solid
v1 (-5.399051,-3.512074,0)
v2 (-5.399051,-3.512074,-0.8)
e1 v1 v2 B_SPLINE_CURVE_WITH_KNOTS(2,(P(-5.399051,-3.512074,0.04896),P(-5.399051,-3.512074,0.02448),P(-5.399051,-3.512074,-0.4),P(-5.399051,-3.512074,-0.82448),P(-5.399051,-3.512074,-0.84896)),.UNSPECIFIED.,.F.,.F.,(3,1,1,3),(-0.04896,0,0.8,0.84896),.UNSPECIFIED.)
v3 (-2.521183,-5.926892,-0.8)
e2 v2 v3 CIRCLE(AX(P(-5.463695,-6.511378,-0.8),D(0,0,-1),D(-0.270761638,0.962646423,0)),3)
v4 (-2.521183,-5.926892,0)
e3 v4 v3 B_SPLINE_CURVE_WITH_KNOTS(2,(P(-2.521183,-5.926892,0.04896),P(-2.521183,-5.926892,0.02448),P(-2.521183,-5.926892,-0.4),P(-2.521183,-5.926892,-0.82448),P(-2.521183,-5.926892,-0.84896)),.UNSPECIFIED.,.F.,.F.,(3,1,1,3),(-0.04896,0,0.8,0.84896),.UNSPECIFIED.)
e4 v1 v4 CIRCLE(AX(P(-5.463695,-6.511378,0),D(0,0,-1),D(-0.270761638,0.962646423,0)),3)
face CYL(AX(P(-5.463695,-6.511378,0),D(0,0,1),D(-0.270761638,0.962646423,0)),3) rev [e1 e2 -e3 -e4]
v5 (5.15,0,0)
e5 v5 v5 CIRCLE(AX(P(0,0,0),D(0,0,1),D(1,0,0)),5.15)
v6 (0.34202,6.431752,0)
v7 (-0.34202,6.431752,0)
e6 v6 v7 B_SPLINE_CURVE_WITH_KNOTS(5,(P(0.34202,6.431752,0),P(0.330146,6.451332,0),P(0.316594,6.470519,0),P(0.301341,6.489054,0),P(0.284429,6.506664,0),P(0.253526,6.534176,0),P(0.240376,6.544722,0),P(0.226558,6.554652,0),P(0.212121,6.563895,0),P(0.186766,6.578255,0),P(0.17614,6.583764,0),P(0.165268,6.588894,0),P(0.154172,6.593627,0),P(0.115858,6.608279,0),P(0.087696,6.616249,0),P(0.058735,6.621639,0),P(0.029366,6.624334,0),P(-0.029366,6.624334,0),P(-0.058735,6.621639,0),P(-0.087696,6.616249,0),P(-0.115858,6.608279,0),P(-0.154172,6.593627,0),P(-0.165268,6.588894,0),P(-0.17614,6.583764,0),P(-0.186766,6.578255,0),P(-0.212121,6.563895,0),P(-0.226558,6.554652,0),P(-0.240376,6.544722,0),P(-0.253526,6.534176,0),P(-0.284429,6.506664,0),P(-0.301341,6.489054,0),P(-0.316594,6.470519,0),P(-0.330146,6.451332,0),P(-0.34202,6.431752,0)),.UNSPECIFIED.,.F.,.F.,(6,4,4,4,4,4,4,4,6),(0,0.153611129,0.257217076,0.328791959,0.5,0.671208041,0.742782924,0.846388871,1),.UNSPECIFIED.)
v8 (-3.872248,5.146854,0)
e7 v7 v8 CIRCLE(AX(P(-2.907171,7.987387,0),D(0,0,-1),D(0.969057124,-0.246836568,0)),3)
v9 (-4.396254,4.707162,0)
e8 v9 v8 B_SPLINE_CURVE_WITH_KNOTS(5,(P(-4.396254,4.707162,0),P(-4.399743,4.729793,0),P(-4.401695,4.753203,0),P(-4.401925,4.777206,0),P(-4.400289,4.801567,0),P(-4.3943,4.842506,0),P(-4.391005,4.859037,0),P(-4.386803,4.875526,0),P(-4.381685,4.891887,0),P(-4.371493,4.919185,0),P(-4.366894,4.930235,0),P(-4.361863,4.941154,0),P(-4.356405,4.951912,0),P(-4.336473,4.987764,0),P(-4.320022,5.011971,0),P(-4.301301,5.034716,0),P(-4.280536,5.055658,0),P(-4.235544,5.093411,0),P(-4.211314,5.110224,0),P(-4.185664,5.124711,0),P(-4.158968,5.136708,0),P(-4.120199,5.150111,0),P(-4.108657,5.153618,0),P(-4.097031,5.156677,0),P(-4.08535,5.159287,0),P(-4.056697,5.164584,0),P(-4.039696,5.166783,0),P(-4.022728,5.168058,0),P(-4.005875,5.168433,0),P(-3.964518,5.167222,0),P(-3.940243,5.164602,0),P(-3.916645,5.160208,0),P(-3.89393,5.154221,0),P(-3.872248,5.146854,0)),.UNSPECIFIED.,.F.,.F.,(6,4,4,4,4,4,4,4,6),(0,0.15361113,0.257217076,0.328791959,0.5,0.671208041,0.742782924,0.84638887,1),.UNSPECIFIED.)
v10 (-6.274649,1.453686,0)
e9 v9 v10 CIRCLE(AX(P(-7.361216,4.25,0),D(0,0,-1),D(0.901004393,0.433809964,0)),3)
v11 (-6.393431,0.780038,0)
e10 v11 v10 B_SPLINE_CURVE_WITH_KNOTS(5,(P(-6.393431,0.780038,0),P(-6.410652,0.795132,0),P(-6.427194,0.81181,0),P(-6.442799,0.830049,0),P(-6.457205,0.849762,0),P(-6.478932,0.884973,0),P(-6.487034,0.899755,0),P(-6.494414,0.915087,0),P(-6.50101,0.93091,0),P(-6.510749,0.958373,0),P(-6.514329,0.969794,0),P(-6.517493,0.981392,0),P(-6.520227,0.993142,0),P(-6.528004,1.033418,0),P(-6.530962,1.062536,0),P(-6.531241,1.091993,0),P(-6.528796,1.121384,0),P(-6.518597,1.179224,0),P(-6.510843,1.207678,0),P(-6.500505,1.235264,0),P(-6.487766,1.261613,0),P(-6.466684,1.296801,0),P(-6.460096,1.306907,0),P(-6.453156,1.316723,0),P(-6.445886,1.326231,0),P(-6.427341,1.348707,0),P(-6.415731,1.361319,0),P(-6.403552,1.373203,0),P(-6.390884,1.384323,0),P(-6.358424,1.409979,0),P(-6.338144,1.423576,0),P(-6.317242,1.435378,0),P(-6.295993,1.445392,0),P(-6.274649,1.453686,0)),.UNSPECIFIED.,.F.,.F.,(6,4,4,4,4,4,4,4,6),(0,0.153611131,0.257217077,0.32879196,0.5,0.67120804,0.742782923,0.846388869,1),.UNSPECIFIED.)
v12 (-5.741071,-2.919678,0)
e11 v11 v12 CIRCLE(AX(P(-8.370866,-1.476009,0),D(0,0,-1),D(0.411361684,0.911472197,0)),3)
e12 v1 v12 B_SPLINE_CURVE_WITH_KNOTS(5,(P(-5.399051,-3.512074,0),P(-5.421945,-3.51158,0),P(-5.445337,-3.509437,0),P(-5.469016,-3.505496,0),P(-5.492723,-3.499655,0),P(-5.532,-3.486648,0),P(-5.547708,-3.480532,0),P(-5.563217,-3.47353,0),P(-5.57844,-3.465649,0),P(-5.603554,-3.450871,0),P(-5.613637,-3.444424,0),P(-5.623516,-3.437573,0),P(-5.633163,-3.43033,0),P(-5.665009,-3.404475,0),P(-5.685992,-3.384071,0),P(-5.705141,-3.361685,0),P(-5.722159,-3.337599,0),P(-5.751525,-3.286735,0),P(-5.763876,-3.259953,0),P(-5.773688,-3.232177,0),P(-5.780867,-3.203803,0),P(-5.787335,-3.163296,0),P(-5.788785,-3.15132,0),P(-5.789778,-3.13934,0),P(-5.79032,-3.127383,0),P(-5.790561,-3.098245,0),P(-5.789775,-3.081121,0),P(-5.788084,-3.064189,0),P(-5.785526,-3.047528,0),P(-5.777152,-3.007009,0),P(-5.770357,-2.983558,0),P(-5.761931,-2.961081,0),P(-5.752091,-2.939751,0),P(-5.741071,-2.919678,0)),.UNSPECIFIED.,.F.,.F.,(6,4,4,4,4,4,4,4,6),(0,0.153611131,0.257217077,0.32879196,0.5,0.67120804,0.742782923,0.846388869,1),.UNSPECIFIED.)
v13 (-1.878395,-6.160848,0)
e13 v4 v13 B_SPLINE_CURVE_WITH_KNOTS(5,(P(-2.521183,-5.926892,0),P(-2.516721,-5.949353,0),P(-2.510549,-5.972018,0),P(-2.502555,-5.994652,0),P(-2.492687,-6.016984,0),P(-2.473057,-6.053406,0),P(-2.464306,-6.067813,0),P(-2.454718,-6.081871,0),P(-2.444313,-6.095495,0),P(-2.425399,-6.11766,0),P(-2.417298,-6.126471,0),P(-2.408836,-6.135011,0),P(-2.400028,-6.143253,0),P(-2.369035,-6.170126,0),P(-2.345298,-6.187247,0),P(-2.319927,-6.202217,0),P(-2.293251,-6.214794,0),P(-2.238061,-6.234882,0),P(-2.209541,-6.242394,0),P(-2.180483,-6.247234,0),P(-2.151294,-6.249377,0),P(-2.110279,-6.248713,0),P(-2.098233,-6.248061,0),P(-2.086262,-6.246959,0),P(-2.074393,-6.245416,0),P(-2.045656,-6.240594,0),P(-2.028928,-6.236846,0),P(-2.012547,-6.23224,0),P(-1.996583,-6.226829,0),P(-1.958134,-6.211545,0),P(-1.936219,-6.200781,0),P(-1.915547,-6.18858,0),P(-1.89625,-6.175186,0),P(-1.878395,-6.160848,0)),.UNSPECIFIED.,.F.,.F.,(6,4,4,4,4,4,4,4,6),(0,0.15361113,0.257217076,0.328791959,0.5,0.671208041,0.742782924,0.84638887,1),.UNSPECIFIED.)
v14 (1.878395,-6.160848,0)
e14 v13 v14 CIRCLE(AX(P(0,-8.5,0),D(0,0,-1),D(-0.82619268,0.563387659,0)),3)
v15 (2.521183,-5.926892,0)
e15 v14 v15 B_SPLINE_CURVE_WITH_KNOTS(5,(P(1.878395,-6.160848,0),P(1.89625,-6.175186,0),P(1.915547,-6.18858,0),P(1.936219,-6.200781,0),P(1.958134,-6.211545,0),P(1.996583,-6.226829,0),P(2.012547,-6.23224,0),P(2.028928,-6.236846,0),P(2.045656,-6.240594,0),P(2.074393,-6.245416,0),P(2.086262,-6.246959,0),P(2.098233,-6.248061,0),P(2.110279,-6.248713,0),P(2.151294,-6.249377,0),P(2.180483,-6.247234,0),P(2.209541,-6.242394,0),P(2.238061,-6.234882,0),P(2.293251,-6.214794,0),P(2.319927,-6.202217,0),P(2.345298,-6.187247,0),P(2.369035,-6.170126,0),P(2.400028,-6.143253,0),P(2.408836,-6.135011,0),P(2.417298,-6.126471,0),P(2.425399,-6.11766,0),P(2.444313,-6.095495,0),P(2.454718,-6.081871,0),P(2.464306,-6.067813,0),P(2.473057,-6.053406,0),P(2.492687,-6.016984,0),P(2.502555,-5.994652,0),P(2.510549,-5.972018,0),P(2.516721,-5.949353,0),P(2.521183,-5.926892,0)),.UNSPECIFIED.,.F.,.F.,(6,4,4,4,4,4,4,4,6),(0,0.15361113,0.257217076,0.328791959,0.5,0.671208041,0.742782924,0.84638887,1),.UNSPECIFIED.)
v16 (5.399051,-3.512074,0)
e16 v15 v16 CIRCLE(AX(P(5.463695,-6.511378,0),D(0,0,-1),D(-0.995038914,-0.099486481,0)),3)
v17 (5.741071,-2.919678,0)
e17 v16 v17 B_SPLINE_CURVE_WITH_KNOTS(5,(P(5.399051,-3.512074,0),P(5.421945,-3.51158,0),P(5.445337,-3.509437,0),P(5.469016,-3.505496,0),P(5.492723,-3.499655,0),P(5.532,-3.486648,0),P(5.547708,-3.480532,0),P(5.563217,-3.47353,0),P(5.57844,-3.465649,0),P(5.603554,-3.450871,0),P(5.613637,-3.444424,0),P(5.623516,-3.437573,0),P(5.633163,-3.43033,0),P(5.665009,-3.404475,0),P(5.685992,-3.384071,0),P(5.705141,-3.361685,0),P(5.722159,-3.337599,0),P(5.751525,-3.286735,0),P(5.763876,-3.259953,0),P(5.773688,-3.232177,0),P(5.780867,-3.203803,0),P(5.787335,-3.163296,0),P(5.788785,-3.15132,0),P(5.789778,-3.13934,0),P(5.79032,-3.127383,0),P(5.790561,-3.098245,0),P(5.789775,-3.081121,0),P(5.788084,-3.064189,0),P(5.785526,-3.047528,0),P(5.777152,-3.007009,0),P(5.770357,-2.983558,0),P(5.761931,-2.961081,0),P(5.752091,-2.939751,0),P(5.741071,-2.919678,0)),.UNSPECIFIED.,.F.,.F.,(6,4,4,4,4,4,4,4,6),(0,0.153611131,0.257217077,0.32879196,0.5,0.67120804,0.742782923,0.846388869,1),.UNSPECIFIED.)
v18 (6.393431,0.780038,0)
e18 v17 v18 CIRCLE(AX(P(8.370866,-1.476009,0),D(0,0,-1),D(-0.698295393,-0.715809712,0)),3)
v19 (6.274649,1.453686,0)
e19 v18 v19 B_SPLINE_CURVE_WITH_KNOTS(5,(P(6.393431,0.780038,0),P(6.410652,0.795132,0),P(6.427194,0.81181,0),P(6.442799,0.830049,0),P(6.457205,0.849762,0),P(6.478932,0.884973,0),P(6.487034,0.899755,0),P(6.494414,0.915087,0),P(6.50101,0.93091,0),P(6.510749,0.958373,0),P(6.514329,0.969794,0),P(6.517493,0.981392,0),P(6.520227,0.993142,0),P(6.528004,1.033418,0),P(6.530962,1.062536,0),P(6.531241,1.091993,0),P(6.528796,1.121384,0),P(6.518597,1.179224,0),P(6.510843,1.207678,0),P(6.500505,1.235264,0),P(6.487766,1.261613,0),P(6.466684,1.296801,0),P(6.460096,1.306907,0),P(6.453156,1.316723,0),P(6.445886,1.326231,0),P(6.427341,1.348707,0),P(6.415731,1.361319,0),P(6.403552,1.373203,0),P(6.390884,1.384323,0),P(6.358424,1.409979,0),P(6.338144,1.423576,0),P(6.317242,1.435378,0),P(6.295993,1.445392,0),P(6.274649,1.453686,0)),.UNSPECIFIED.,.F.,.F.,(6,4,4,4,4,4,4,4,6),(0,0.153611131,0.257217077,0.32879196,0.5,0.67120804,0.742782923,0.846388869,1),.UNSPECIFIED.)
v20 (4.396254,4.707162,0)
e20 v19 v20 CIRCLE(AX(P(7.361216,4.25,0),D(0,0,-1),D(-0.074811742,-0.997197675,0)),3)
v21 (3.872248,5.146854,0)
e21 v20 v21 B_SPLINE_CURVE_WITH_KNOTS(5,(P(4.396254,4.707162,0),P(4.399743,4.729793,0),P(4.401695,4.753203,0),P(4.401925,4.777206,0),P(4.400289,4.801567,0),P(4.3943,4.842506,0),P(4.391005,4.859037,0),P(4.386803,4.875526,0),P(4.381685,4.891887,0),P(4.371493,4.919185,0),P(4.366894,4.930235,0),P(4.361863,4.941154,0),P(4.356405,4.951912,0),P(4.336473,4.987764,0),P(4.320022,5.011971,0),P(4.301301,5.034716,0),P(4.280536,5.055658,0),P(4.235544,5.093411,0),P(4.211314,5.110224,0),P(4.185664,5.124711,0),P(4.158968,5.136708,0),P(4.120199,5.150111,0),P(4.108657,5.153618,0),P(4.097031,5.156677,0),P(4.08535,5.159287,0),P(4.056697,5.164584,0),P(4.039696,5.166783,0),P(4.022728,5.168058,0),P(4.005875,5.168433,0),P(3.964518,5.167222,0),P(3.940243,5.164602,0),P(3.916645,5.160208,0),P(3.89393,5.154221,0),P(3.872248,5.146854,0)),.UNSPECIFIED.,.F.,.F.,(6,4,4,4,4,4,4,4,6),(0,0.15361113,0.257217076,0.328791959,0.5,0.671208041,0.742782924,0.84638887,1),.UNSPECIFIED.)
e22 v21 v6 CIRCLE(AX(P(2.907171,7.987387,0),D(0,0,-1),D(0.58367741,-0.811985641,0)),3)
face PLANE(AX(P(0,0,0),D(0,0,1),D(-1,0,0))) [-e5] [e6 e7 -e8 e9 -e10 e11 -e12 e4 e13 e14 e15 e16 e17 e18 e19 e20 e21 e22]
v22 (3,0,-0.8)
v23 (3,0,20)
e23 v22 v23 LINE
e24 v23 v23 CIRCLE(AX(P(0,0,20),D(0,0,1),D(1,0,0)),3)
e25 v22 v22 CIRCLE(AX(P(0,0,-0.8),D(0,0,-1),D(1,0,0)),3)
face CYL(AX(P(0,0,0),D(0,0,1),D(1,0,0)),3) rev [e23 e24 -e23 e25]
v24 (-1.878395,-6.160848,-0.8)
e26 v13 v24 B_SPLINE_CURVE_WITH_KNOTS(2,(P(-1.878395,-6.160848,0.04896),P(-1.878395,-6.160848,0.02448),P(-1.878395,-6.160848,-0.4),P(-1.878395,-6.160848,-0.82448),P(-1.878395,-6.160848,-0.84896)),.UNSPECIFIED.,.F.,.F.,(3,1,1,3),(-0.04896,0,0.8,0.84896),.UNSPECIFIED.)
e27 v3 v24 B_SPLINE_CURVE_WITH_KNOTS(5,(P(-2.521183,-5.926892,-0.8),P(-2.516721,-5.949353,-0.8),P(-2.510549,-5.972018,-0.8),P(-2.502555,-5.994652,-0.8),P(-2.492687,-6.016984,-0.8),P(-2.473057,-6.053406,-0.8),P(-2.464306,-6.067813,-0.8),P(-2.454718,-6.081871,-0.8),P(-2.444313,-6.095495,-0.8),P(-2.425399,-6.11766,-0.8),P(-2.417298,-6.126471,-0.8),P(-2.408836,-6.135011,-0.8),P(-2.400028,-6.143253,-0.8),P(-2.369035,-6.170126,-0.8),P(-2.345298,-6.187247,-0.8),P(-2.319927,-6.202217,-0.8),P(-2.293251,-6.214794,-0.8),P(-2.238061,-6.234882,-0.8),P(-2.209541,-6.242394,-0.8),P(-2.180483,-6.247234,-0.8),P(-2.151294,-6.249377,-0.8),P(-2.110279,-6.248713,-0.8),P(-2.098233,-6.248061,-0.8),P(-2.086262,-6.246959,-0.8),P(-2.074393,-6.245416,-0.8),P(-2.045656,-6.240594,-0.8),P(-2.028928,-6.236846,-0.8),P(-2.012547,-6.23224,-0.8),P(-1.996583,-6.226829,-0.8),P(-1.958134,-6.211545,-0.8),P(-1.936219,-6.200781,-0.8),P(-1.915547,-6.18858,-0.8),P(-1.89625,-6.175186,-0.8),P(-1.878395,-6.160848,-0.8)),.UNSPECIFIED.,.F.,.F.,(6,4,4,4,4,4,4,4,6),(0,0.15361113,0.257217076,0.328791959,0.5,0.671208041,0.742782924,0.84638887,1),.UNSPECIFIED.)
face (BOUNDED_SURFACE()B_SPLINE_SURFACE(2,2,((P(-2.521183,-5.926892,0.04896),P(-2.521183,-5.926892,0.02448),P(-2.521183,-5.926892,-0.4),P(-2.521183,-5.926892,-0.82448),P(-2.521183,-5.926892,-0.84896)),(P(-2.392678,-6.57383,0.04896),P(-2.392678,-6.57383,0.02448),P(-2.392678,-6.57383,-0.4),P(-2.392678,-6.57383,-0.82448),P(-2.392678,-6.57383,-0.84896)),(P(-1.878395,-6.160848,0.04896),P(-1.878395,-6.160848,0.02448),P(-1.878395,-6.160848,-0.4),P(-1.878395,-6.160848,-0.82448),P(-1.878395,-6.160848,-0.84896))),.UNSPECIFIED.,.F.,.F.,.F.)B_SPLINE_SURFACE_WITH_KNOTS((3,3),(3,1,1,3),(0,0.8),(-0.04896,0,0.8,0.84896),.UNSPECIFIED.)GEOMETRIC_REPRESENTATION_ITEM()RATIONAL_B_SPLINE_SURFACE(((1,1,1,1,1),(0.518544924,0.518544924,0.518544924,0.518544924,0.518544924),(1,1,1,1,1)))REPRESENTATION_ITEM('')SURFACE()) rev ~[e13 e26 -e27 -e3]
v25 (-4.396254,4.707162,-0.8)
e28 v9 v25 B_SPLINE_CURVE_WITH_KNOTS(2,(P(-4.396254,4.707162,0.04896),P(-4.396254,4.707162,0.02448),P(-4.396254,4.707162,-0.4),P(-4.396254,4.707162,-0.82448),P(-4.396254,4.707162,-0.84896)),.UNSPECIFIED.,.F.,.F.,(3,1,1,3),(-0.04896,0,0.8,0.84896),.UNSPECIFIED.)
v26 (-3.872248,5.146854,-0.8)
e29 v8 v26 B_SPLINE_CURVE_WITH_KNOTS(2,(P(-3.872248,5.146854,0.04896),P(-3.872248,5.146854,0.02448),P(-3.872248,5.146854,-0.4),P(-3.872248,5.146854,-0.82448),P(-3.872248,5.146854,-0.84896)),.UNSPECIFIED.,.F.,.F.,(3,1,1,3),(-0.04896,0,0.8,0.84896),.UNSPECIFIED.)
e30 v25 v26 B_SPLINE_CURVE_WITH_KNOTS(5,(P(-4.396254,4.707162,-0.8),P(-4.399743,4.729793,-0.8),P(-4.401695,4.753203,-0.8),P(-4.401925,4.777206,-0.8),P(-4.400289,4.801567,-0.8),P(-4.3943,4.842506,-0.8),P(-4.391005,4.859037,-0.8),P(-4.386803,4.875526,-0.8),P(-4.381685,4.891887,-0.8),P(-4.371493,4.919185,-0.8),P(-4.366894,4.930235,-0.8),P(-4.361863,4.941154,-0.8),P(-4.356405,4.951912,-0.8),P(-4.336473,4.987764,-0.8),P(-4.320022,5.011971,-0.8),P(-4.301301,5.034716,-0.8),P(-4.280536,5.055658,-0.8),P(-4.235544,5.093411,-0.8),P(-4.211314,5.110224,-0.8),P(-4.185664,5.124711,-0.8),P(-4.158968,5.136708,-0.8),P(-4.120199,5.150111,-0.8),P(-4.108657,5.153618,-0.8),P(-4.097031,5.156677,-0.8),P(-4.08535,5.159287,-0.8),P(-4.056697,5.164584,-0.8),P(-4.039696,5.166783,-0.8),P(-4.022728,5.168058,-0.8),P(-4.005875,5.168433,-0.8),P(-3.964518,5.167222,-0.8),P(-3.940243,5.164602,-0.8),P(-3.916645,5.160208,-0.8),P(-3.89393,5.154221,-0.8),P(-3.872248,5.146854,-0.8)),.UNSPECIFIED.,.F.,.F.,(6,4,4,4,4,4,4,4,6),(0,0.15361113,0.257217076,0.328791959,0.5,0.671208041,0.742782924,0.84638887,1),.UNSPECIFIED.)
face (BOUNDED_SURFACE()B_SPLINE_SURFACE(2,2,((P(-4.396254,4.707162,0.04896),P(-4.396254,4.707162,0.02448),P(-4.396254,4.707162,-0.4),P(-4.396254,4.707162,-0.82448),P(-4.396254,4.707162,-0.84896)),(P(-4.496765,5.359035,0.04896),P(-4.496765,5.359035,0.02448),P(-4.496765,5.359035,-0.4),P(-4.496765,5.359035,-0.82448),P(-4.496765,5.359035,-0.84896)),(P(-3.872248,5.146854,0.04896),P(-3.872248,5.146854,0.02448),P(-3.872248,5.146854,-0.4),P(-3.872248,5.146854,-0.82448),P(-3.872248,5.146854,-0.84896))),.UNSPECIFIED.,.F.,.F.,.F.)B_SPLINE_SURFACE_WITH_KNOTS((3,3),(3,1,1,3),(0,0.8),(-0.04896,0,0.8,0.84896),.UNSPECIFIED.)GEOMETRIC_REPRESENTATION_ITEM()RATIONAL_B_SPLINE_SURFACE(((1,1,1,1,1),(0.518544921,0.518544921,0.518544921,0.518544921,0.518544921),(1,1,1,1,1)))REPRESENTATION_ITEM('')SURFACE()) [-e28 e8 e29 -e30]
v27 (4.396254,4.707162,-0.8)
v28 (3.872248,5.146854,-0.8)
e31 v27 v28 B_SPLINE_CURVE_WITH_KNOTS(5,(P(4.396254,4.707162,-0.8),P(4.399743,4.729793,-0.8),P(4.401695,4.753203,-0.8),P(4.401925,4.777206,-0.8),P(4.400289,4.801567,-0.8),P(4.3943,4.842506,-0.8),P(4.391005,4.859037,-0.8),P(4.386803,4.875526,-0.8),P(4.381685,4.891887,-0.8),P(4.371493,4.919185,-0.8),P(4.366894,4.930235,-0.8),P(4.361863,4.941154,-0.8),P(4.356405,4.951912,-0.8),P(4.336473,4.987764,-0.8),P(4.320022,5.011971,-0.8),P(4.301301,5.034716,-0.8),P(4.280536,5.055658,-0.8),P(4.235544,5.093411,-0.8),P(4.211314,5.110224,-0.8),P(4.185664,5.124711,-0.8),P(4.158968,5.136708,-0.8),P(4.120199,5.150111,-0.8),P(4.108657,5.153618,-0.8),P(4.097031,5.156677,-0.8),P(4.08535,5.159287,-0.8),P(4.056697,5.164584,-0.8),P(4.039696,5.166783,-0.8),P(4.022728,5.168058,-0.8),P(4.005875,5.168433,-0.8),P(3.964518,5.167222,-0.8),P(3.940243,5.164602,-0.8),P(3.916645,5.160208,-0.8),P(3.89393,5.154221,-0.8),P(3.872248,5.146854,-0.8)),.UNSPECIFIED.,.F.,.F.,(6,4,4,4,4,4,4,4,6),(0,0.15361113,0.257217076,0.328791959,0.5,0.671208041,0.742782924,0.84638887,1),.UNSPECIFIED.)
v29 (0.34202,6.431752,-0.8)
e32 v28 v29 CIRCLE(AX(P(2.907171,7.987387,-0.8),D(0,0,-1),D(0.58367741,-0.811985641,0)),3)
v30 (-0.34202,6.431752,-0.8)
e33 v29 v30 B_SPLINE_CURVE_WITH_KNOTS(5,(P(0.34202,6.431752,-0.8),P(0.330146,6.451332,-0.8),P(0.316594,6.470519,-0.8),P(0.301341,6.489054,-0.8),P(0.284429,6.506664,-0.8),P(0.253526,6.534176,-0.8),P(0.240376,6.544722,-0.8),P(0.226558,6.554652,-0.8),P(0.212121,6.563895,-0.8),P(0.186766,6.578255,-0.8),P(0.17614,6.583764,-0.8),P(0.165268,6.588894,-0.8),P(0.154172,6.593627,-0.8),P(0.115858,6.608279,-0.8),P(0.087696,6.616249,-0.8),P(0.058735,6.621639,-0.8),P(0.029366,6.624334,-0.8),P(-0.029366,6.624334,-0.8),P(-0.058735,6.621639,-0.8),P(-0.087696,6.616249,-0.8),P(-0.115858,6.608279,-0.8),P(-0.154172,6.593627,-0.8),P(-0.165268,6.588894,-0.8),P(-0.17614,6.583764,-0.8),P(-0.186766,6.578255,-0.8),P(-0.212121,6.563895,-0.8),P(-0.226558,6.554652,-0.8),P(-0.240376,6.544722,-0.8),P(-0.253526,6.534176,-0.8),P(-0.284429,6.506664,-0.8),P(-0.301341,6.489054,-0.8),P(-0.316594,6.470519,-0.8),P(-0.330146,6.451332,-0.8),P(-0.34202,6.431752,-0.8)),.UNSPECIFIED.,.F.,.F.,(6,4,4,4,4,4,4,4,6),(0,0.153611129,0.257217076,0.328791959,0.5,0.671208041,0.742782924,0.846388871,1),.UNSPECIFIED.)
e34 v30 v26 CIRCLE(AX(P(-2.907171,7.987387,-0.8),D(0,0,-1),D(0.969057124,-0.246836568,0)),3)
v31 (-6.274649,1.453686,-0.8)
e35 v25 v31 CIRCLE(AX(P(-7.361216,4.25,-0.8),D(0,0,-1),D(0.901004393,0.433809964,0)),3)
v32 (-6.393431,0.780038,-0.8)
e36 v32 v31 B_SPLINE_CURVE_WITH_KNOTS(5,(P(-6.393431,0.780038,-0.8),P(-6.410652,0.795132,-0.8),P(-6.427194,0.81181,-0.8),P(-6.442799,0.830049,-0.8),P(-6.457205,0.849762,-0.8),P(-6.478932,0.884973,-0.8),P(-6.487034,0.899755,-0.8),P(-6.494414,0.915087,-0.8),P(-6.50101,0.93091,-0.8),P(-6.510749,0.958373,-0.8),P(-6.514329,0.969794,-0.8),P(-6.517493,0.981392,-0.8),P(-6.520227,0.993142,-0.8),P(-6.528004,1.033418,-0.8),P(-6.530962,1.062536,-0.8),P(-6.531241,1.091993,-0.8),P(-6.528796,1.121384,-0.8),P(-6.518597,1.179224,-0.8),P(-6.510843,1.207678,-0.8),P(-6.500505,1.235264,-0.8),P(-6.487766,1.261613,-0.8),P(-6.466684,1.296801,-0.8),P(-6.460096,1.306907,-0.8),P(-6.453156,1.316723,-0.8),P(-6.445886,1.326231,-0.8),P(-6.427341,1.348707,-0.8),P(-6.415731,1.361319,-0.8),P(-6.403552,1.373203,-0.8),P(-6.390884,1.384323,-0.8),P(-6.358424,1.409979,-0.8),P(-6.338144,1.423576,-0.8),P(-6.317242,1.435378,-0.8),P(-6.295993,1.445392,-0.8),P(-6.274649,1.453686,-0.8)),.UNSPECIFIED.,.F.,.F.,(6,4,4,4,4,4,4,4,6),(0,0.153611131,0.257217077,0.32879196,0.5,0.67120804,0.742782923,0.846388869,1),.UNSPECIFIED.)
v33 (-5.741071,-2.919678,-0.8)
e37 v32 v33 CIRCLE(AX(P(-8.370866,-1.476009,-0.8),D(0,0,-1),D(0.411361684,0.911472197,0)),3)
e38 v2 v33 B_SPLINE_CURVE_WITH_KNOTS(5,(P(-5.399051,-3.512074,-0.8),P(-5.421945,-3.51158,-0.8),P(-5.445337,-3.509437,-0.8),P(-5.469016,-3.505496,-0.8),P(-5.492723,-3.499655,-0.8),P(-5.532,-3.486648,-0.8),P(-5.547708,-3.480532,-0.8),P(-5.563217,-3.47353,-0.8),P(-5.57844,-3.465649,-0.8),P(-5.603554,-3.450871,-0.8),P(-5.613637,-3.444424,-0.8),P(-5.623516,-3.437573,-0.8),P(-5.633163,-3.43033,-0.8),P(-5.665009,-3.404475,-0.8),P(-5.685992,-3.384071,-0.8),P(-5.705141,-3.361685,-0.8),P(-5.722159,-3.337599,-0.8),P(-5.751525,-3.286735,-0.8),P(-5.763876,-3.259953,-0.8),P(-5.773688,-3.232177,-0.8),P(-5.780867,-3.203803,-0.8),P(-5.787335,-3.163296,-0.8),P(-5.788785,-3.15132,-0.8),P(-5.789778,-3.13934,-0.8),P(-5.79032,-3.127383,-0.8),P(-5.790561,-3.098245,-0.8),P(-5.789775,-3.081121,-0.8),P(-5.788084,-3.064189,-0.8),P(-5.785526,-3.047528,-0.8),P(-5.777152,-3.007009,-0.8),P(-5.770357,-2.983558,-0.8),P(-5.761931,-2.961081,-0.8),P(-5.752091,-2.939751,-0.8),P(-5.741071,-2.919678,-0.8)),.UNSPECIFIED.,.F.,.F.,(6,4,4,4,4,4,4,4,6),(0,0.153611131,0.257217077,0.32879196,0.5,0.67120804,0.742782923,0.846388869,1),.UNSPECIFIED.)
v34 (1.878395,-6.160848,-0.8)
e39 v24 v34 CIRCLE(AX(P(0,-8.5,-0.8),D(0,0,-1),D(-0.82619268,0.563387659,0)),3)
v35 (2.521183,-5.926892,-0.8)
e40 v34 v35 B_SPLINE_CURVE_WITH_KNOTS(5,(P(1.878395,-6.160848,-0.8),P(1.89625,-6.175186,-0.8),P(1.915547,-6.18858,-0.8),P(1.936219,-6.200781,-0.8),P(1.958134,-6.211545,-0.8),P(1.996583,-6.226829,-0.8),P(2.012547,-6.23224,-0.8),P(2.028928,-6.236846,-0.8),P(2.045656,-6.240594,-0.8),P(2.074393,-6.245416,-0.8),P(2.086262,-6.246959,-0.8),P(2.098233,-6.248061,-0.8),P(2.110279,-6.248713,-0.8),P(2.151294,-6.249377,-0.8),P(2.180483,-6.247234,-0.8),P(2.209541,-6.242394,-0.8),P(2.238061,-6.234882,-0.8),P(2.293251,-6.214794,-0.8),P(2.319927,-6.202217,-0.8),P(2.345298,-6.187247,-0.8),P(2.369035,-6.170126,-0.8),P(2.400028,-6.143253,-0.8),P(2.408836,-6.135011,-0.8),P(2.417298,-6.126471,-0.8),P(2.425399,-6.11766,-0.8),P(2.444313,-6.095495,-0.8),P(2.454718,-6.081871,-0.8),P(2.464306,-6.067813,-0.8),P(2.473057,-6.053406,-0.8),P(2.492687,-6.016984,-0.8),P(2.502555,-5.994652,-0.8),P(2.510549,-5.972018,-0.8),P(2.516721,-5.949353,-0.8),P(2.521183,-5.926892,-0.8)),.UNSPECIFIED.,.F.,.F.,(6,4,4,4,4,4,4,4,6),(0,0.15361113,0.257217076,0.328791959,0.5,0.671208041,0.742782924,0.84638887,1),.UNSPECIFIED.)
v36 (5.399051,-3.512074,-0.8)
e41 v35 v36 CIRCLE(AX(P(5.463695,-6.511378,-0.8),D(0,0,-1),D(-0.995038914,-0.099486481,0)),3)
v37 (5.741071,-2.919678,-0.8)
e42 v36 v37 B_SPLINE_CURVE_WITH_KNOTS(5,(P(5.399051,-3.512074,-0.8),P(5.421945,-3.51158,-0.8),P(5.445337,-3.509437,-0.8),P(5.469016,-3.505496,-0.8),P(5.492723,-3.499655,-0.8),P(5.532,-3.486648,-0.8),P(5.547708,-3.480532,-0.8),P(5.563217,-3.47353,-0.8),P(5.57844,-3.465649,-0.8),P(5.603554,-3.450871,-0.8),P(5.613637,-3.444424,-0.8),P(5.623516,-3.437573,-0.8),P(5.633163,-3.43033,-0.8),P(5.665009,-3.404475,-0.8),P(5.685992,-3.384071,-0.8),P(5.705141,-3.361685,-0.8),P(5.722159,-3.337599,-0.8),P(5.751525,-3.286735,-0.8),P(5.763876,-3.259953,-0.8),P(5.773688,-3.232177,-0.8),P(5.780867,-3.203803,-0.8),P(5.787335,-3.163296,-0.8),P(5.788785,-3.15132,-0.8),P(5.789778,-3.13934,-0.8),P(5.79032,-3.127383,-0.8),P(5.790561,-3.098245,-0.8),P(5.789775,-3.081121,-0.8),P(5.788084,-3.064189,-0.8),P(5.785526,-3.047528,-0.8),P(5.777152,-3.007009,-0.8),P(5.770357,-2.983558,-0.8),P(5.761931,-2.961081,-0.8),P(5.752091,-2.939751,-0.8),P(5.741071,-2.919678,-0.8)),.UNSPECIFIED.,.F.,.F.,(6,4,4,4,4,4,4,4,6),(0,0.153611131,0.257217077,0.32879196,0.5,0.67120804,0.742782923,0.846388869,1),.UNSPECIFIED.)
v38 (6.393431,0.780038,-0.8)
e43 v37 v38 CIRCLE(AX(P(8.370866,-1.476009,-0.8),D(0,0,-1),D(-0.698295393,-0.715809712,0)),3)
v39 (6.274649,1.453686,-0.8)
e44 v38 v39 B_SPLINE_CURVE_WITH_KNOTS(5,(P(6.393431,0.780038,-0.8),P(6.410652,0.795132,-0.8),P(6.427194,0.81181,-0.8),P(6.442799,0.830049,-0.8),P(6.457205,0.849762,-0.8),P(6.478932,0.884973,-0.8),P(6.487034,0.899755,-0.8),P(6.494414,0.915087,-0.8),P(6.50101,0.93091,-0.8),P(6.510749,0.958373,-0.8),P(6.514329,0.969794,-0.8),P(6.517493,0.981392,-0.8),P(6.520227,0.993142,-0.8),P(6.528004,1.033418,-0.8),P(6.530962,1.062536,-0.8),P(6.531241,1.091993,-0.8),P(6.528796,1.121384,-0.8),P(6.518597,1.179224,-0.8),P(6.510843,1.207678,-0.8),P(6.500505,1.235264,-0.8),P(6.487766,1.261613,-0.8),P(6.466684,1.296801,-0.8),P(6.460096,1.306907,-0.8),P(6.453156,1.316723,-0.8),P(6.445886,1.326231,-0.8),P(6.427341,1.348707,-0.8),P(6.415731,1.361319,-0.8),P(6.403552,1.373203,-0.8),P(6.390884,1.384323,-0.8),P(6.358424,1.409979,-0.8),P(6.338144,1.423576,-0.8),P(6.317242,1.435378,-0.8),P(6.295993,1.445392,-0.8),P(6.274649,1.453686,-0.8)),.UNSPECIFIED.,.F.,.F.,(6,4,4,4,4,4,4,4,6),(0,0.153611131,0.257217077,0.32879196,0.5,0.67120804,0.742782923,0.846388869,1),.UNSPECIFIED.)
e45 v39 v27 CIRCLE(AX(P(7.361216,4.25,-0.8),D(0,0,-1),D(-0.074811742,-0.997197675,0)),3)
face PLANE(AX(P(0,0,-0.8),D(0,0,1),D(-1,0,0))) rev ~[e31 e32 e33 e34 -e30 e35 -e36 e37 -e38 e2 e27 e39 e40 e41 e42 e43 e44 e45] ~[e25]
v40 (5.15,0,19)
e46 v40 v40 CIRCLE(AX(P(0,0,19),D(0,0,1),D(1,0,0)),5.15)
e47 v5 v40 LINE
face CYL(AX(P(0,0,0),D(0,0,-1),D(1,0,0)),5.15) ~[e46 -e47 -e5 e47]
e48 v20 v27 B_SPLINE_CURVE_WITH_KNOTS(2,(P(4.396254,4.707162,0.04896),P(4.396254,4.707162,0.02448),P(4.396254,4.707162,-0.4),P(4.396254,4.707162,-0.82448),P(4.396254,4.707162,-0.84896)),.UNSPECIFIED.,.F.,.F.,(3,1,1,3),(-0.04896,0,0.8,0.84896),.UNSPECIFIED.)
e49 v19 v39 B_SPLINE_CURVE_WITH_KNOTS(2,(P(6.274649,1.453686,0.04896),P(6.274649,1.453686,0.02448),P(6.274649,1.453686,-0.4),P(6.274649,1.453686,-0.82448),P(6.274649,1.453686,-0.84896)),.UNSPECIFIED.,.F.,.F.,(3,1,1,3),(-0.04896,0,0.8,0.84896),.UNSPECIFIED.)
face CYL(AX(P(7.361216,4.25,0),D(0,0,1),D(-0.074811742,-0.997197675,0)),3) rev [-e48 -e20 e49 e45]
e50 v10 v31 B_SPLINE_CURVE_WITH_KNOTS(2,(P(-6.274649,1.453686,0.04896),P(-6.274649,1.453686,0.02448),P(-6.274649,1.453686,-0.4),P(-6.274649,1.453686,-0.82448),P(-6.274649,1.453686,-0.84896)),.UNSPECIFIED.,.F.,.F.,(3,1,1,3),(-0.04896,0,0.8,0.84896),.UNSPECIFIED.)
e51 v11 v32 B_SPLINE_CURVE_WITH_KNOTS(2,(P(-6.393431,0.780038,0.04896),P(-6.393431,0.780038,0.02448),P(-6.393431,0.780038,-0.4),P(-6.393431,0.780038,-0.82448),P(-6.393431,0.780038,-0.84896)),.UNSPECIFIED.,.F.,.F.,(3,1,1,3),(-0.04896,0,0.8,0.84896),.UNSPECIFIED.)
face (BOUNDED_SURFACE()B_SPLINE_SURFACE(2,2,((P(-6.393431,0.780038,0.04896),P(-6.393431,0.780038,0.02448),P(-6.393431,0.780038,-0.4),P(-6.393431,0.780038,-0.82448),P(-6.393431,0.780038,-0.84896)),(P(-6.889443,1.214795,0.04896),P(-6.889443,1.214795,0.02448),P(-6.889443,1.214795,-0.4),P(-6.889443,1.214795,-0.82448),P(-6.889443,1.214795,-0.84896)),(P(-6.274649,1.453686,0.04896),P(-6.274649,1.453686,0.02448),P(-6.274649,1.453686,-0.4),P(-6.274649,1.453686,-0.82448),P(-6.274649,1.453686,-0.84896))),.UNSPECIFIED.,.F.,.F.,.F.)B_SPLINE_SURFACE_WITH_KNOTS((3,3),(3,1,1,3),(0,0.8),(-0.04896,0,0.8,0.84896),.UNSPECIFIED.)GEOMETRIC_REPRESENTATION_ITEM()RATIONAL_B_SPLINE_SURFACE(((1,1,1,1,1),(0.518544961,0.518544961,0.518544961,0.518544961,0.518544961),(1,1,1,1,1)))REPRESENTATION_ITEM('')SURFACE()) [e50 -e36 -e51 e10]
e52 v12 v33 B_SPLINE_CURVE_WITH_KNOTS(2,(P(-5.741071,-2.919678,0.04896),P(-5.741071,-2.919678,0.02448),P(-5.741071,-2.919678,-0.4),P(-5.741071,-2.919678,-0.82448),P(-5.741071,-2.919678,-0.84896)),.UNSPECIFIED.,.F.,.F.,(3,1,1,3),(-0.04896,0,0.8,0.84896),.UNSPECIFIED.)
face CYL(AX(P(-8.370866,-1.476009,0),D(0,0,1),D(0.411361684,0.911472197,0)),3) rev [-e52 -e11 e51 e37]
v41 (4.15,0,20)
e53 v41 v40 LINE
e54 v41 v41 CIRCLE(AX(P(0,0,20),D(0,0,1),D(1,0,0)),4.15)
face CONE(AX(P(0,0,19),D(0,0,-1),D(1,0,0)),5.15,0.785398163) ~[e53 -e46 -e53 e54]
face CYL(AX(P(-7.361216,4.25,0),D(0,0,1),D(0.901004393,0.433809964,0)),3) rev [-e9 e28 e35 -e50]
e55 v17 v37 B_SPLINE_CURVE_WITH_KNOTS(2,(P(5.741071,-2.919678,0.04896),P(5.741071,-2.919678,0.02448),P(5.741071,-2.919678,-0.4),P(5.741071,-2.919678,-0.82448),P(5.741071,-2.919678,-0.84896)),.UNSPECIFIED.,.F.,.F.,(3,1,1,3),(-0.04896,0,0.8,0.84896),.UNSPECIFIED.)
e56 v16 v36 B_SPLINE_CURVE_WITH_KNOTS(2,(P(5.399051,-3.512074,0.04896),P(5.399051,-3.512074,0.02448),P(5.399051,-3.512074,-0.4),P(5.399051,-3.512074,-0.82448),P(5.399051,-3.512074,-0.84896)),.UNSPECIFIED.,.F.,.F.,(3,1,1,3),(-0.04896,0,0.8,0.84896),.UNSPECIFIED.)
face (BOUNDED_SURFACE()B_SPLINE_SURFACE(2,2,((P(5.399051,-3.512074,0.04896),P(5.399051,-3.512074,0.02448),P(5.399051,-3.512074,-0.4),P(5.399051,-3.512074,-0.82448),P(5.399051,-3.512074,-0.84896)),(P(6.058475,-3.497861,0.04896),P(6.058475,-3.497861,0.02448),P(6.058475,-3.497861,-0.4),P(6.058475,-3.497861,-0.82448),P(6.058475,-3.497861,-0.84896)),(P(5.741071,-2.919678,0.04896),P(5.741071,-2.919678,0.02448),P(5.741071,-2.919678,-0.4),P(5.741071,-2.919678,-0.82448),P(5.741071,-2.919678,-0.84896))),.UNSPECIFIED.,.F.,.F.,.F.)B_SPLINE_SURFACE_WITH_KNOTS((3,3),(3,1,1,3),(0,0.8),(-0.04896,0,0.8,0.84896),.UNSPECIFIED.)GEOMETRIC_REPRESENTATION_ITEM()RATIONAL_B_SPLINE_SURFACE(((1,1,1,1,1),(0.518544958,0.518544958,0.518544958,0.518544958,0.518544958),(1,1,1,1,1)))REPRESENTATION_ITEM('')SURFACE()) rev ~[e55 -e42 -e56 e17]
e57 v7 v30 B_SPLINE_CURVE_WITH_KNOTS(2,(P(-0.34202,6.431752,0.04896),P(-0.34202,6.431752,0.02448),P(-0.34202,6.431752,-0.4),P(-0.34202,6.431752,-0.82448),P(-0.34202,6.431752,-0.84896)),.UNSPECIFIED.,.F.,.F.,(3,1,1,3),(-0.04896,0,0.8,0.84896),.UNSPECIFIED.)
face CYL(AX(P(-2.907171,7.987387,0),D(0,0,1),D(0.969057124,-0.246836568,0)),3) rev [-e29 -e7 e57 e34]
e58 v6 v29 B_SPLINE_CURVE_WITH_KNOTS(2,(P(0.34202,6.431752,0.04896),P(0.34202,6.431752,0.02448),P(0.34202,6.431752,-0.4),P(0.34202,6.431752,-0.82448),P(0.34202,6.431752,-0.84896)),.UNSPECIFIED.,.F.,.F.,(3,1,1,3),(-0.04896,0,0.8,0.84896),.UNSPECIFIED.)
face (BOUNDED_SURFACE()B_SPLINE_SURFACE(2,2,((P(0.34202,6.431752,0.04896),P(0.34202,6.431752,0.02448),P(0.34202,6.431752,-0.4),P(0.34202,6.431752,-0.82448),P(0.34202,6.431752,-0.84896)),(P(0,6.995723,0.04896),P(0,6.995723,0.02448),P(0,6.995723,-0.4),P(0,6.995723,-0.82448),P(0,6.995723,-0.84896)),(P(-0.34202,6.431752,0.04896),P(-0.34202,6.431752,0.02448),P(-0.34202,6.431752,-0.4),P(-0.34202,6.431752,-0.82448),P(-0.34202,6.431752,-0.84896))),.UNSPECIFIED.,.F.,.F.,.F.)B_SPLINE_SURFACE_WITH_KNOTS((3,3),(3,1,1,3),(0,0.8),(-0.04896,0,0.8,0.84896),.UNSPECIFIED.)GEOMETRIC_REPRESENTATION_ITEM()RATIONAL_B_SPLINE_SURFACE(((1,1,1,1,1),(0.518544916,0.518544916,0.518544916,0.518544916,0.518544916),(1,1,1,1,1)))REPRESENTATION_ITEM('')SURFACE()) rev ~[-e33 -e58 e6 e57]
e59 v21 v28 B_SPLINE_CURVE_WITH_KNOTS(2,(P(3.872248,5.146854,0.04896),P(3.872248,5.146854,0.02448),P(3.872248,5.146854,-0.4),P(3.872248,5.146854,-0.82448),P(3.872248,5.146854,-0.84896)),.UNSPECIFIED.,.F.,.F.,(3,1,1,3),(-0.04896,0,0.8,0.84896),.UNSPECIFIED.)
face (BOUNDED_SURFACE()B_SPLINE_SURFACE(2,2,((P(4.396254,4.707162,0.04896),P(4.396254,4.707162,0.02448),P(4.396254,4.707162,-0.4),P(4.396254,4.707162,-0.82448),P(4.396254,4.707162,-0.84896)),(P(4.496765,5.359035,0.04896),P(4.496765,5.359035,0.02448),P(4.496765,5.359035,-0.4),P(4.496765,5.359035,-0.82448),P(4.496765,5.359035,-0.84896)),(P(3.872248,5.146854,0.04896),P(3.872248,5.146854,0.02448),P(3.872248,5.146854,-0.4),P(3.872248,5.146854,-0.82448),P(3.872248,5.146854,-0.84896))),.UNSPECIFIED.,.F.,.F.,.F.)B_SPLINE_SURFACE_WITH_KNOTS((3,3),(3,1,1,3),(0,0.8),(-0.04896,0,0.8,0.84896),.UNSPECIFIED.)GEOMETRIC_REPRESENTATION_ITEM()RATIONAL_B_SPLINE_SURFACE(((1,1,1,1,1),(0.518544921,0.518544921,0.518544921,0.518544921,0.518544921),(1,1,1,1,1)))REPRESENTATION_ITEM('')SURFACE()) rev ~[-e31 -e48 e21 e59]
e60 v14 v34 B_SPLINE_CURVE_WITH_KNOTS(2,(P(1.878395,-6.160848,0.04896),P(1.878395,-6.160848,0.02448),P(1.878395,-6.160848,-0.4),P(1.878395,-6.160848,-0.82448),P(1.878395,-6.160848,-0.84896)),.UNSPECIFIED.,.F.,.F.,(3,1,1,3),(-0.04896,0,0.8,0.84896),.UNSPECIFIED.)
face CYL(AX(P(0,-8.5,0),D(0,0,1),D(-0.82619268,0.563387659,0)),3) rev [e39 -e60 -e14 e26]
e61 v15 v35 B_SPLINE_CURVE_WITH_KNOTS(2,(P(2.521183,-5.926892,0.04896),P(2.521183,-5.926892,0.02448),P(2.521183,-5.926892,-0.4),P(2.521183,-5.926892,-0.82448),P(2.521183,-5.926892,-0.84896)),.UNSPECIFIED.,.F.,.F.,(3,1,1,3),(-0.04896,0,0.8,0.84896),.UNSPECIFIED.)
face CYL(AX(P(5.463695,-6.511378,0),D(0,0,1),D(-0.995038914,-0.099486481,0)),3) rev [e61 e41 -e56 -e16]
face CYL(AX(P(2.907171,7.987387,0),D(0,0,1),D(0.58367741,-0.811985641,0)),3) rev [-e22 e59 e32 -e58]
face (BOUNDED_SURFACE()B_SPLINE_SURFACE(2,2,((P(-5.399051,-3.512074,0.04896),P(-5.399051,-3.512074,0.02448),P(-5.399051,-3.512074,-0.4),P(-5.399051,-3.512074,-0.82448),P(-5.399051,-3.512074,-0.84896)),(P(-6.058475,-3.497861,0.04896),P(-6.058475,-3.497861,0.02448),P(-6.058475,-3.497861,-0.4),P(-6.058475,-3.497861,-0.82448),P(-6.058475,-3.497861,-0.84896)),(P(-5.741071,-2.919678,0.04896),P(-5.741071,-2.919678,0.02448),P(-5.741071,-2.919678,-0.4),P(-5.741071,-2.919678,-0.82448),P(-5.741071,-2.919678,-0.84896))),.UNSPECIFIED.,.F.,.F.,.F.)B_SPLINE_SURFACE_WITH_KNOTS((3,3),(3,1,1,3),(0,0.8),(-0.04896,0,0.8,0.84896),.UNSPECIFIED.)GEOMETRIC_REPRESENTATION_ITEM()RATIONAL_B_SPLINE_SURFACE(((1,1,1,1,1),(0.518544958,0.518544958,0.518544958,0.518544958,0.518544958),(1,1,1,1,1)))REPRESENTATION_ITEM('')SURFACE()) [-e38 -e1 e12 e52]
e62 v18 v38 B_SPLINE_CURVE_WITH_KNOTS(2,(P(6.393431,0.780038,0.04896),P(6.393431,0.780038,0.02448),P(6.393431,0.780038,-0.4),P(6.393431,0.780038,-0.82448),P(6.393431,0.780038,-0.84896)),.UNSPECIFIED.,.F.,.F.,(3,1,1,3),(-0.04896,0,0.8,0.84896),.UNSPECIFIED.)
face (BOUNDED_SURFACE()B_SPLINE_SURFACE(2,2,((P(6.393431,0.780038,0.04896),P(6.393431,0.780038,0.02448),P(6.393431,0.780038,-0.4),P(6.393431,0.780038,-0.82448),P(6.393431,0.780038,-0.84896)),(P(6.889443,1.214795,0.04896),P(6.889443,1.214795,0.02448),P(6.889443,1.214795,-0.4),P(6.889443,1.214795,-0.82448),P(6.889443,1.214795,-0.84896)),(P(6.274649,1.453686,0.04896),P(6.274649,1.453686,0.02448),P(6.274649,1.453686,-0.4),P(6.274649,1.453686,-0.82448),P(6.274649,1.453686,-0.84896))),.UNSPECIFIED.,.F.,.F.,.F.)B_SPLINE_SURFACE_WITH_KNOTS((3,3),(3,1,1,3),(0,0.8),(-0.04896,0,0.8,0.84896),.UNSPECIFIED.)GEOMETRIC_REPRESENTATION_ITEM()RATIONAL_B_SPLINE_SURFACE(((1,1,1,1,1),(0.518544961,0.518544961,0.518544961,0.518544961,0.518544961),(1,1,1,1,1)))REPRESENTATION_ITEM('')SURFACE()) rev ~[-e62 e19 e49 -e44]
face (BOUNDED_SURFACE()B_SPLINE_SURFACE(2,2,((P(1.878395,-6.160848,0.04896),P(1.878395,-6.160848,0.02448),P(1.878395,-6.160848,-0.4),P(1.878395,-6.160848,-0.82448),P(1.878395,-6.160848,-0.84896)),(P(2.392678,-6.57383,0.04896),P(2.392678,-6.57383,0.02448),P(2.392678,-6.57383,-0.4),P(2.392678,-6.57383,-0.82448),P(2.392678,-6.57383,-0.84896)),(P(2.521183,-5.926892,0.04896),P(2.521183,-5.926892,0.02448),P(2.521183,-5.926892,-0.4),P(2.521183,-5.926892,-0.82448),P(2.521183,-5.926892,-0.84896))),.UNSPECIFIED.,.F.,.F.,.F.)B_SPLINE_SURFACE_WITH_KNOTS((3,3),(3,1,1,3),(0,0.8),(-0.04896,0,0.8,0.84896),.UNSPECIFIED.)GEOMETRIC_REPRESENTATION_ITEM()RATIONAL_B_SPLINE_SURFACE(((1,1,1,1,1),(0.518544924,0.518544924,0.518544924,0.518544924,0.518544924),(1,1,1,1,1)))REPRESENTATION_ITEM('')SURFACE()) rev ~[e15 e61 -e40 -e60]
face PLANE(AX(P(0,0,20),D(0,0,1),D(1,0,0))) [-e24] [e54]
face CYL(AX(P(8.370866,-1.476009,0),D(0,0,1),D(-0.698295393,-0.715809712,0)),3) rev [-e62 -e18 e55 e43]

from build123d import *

# Parameters (mm, degrees)
SKETCH_R     = 5.15
SKETCH_R_2   = 3
PAD_DEPTH    = 20
SKETCH001_R  = 3
PAD001_DEPTH = 0.8
FILLET_R     = 0.4
FILLET001_R  = 0.4
FILLET002_R  = 0.4
CHAMFER_SIZE = 1


with BuildPart() as part:
    # Sketch → Pad (new body)
    with BuildSketch(Plane.XY):
        Circle(SKETCH_R)
        Circle(SKETCH_R_2, mode=Mode.SUBTRACT)
    extrude(amount=PAD_DEPTH)

    # Sketch001 (on Face3 of Pad) → Pad001 (join)
    with BuildSketch(Plane(origin=(0, 0, 0), x_dir=(1, 0, 0), z_dir=(0, 0, -1))):
        with BuildLine():
            ThreePointArc((2.478578, 6.809837), (3.535332, 4.213244), (6.27598, 3.623438))
            ThreePointArc((6.27598, 3.623438), (5.416443, 0.955065), (7.136781, -1.258407))
            ThreePointArc((7.136781, -1.258407), (4.76314, -2.75), (4.658203, -5.55143))
            ThreePointArc((4.658203, -5.55143), (1.881111, -5.168309), (0, -7.246877))
            ThreePointArc((0, -7.246877), (-1.881111, -5.168309), (-4.658203, -5.55143))
            ThreePointArc((-4.658203, -5.55143), (-4.76314, -2.75), (-7.136781, -1.258407))
            ThreePointArc((-7.136781, -1.258407), (-5.416443, 0.955065), (-6.27598, 3.623438))
            ThreePointArc((-6.27598, 3.623438), (-3.535332, 4.213244), (-2.478578, 6.809837))
            ThreePointArc((-2.478578, 6.809837), (0, 5.5), (2.478578, 6.809837))
        make_face()
        Circle(SKETCH001_R, mode=Mode.SUBTRACT)
    extrude(amount=PAD001_DEPTH)

    # Fillet
    fillet_edges = [part.edges().sort_by_distance(p)[0] for p in [
        (-2.478578, -6.809837, -0.4),
    ]]
    fillet(fillet_edges, radius=FILLET_R)

    # Fillet001
    fillet001_edges = [part.edges().sort_by_distance(p)[0] for p in [
        (2.478578, -6.809837, -0.4),
        (6.27598, -3.623438, -0.4),
        (-6.27598, -3.623438, -0.4),
        (-7.136781, 1.258407, -0.4),
        (-4.658203, 5.55143, -0.4),
        (0, 7.246877, -0.4),
    ]]
    fillet(fillet001_edges, radius=FILLET001_R)

    # Fillet002
    fillet002_edges = [part.edges().sort_by_distance(p)[0] for p in [
        (4.658203, 5.55143, -0.4),
        (7.136781, 1.258407, -0.4),
    ]]
    fillet(fillet002_edges, radius=FILLET002_R)

    # Chamfer
    chamfer_edges = [part.edges().sort_by_distance(p)[0] for p in [
        (-5.15, 0, 20),
    ]]
    chamfer(chamfer_edges, length=CHAMFER_SIZE)


solid = part.part
